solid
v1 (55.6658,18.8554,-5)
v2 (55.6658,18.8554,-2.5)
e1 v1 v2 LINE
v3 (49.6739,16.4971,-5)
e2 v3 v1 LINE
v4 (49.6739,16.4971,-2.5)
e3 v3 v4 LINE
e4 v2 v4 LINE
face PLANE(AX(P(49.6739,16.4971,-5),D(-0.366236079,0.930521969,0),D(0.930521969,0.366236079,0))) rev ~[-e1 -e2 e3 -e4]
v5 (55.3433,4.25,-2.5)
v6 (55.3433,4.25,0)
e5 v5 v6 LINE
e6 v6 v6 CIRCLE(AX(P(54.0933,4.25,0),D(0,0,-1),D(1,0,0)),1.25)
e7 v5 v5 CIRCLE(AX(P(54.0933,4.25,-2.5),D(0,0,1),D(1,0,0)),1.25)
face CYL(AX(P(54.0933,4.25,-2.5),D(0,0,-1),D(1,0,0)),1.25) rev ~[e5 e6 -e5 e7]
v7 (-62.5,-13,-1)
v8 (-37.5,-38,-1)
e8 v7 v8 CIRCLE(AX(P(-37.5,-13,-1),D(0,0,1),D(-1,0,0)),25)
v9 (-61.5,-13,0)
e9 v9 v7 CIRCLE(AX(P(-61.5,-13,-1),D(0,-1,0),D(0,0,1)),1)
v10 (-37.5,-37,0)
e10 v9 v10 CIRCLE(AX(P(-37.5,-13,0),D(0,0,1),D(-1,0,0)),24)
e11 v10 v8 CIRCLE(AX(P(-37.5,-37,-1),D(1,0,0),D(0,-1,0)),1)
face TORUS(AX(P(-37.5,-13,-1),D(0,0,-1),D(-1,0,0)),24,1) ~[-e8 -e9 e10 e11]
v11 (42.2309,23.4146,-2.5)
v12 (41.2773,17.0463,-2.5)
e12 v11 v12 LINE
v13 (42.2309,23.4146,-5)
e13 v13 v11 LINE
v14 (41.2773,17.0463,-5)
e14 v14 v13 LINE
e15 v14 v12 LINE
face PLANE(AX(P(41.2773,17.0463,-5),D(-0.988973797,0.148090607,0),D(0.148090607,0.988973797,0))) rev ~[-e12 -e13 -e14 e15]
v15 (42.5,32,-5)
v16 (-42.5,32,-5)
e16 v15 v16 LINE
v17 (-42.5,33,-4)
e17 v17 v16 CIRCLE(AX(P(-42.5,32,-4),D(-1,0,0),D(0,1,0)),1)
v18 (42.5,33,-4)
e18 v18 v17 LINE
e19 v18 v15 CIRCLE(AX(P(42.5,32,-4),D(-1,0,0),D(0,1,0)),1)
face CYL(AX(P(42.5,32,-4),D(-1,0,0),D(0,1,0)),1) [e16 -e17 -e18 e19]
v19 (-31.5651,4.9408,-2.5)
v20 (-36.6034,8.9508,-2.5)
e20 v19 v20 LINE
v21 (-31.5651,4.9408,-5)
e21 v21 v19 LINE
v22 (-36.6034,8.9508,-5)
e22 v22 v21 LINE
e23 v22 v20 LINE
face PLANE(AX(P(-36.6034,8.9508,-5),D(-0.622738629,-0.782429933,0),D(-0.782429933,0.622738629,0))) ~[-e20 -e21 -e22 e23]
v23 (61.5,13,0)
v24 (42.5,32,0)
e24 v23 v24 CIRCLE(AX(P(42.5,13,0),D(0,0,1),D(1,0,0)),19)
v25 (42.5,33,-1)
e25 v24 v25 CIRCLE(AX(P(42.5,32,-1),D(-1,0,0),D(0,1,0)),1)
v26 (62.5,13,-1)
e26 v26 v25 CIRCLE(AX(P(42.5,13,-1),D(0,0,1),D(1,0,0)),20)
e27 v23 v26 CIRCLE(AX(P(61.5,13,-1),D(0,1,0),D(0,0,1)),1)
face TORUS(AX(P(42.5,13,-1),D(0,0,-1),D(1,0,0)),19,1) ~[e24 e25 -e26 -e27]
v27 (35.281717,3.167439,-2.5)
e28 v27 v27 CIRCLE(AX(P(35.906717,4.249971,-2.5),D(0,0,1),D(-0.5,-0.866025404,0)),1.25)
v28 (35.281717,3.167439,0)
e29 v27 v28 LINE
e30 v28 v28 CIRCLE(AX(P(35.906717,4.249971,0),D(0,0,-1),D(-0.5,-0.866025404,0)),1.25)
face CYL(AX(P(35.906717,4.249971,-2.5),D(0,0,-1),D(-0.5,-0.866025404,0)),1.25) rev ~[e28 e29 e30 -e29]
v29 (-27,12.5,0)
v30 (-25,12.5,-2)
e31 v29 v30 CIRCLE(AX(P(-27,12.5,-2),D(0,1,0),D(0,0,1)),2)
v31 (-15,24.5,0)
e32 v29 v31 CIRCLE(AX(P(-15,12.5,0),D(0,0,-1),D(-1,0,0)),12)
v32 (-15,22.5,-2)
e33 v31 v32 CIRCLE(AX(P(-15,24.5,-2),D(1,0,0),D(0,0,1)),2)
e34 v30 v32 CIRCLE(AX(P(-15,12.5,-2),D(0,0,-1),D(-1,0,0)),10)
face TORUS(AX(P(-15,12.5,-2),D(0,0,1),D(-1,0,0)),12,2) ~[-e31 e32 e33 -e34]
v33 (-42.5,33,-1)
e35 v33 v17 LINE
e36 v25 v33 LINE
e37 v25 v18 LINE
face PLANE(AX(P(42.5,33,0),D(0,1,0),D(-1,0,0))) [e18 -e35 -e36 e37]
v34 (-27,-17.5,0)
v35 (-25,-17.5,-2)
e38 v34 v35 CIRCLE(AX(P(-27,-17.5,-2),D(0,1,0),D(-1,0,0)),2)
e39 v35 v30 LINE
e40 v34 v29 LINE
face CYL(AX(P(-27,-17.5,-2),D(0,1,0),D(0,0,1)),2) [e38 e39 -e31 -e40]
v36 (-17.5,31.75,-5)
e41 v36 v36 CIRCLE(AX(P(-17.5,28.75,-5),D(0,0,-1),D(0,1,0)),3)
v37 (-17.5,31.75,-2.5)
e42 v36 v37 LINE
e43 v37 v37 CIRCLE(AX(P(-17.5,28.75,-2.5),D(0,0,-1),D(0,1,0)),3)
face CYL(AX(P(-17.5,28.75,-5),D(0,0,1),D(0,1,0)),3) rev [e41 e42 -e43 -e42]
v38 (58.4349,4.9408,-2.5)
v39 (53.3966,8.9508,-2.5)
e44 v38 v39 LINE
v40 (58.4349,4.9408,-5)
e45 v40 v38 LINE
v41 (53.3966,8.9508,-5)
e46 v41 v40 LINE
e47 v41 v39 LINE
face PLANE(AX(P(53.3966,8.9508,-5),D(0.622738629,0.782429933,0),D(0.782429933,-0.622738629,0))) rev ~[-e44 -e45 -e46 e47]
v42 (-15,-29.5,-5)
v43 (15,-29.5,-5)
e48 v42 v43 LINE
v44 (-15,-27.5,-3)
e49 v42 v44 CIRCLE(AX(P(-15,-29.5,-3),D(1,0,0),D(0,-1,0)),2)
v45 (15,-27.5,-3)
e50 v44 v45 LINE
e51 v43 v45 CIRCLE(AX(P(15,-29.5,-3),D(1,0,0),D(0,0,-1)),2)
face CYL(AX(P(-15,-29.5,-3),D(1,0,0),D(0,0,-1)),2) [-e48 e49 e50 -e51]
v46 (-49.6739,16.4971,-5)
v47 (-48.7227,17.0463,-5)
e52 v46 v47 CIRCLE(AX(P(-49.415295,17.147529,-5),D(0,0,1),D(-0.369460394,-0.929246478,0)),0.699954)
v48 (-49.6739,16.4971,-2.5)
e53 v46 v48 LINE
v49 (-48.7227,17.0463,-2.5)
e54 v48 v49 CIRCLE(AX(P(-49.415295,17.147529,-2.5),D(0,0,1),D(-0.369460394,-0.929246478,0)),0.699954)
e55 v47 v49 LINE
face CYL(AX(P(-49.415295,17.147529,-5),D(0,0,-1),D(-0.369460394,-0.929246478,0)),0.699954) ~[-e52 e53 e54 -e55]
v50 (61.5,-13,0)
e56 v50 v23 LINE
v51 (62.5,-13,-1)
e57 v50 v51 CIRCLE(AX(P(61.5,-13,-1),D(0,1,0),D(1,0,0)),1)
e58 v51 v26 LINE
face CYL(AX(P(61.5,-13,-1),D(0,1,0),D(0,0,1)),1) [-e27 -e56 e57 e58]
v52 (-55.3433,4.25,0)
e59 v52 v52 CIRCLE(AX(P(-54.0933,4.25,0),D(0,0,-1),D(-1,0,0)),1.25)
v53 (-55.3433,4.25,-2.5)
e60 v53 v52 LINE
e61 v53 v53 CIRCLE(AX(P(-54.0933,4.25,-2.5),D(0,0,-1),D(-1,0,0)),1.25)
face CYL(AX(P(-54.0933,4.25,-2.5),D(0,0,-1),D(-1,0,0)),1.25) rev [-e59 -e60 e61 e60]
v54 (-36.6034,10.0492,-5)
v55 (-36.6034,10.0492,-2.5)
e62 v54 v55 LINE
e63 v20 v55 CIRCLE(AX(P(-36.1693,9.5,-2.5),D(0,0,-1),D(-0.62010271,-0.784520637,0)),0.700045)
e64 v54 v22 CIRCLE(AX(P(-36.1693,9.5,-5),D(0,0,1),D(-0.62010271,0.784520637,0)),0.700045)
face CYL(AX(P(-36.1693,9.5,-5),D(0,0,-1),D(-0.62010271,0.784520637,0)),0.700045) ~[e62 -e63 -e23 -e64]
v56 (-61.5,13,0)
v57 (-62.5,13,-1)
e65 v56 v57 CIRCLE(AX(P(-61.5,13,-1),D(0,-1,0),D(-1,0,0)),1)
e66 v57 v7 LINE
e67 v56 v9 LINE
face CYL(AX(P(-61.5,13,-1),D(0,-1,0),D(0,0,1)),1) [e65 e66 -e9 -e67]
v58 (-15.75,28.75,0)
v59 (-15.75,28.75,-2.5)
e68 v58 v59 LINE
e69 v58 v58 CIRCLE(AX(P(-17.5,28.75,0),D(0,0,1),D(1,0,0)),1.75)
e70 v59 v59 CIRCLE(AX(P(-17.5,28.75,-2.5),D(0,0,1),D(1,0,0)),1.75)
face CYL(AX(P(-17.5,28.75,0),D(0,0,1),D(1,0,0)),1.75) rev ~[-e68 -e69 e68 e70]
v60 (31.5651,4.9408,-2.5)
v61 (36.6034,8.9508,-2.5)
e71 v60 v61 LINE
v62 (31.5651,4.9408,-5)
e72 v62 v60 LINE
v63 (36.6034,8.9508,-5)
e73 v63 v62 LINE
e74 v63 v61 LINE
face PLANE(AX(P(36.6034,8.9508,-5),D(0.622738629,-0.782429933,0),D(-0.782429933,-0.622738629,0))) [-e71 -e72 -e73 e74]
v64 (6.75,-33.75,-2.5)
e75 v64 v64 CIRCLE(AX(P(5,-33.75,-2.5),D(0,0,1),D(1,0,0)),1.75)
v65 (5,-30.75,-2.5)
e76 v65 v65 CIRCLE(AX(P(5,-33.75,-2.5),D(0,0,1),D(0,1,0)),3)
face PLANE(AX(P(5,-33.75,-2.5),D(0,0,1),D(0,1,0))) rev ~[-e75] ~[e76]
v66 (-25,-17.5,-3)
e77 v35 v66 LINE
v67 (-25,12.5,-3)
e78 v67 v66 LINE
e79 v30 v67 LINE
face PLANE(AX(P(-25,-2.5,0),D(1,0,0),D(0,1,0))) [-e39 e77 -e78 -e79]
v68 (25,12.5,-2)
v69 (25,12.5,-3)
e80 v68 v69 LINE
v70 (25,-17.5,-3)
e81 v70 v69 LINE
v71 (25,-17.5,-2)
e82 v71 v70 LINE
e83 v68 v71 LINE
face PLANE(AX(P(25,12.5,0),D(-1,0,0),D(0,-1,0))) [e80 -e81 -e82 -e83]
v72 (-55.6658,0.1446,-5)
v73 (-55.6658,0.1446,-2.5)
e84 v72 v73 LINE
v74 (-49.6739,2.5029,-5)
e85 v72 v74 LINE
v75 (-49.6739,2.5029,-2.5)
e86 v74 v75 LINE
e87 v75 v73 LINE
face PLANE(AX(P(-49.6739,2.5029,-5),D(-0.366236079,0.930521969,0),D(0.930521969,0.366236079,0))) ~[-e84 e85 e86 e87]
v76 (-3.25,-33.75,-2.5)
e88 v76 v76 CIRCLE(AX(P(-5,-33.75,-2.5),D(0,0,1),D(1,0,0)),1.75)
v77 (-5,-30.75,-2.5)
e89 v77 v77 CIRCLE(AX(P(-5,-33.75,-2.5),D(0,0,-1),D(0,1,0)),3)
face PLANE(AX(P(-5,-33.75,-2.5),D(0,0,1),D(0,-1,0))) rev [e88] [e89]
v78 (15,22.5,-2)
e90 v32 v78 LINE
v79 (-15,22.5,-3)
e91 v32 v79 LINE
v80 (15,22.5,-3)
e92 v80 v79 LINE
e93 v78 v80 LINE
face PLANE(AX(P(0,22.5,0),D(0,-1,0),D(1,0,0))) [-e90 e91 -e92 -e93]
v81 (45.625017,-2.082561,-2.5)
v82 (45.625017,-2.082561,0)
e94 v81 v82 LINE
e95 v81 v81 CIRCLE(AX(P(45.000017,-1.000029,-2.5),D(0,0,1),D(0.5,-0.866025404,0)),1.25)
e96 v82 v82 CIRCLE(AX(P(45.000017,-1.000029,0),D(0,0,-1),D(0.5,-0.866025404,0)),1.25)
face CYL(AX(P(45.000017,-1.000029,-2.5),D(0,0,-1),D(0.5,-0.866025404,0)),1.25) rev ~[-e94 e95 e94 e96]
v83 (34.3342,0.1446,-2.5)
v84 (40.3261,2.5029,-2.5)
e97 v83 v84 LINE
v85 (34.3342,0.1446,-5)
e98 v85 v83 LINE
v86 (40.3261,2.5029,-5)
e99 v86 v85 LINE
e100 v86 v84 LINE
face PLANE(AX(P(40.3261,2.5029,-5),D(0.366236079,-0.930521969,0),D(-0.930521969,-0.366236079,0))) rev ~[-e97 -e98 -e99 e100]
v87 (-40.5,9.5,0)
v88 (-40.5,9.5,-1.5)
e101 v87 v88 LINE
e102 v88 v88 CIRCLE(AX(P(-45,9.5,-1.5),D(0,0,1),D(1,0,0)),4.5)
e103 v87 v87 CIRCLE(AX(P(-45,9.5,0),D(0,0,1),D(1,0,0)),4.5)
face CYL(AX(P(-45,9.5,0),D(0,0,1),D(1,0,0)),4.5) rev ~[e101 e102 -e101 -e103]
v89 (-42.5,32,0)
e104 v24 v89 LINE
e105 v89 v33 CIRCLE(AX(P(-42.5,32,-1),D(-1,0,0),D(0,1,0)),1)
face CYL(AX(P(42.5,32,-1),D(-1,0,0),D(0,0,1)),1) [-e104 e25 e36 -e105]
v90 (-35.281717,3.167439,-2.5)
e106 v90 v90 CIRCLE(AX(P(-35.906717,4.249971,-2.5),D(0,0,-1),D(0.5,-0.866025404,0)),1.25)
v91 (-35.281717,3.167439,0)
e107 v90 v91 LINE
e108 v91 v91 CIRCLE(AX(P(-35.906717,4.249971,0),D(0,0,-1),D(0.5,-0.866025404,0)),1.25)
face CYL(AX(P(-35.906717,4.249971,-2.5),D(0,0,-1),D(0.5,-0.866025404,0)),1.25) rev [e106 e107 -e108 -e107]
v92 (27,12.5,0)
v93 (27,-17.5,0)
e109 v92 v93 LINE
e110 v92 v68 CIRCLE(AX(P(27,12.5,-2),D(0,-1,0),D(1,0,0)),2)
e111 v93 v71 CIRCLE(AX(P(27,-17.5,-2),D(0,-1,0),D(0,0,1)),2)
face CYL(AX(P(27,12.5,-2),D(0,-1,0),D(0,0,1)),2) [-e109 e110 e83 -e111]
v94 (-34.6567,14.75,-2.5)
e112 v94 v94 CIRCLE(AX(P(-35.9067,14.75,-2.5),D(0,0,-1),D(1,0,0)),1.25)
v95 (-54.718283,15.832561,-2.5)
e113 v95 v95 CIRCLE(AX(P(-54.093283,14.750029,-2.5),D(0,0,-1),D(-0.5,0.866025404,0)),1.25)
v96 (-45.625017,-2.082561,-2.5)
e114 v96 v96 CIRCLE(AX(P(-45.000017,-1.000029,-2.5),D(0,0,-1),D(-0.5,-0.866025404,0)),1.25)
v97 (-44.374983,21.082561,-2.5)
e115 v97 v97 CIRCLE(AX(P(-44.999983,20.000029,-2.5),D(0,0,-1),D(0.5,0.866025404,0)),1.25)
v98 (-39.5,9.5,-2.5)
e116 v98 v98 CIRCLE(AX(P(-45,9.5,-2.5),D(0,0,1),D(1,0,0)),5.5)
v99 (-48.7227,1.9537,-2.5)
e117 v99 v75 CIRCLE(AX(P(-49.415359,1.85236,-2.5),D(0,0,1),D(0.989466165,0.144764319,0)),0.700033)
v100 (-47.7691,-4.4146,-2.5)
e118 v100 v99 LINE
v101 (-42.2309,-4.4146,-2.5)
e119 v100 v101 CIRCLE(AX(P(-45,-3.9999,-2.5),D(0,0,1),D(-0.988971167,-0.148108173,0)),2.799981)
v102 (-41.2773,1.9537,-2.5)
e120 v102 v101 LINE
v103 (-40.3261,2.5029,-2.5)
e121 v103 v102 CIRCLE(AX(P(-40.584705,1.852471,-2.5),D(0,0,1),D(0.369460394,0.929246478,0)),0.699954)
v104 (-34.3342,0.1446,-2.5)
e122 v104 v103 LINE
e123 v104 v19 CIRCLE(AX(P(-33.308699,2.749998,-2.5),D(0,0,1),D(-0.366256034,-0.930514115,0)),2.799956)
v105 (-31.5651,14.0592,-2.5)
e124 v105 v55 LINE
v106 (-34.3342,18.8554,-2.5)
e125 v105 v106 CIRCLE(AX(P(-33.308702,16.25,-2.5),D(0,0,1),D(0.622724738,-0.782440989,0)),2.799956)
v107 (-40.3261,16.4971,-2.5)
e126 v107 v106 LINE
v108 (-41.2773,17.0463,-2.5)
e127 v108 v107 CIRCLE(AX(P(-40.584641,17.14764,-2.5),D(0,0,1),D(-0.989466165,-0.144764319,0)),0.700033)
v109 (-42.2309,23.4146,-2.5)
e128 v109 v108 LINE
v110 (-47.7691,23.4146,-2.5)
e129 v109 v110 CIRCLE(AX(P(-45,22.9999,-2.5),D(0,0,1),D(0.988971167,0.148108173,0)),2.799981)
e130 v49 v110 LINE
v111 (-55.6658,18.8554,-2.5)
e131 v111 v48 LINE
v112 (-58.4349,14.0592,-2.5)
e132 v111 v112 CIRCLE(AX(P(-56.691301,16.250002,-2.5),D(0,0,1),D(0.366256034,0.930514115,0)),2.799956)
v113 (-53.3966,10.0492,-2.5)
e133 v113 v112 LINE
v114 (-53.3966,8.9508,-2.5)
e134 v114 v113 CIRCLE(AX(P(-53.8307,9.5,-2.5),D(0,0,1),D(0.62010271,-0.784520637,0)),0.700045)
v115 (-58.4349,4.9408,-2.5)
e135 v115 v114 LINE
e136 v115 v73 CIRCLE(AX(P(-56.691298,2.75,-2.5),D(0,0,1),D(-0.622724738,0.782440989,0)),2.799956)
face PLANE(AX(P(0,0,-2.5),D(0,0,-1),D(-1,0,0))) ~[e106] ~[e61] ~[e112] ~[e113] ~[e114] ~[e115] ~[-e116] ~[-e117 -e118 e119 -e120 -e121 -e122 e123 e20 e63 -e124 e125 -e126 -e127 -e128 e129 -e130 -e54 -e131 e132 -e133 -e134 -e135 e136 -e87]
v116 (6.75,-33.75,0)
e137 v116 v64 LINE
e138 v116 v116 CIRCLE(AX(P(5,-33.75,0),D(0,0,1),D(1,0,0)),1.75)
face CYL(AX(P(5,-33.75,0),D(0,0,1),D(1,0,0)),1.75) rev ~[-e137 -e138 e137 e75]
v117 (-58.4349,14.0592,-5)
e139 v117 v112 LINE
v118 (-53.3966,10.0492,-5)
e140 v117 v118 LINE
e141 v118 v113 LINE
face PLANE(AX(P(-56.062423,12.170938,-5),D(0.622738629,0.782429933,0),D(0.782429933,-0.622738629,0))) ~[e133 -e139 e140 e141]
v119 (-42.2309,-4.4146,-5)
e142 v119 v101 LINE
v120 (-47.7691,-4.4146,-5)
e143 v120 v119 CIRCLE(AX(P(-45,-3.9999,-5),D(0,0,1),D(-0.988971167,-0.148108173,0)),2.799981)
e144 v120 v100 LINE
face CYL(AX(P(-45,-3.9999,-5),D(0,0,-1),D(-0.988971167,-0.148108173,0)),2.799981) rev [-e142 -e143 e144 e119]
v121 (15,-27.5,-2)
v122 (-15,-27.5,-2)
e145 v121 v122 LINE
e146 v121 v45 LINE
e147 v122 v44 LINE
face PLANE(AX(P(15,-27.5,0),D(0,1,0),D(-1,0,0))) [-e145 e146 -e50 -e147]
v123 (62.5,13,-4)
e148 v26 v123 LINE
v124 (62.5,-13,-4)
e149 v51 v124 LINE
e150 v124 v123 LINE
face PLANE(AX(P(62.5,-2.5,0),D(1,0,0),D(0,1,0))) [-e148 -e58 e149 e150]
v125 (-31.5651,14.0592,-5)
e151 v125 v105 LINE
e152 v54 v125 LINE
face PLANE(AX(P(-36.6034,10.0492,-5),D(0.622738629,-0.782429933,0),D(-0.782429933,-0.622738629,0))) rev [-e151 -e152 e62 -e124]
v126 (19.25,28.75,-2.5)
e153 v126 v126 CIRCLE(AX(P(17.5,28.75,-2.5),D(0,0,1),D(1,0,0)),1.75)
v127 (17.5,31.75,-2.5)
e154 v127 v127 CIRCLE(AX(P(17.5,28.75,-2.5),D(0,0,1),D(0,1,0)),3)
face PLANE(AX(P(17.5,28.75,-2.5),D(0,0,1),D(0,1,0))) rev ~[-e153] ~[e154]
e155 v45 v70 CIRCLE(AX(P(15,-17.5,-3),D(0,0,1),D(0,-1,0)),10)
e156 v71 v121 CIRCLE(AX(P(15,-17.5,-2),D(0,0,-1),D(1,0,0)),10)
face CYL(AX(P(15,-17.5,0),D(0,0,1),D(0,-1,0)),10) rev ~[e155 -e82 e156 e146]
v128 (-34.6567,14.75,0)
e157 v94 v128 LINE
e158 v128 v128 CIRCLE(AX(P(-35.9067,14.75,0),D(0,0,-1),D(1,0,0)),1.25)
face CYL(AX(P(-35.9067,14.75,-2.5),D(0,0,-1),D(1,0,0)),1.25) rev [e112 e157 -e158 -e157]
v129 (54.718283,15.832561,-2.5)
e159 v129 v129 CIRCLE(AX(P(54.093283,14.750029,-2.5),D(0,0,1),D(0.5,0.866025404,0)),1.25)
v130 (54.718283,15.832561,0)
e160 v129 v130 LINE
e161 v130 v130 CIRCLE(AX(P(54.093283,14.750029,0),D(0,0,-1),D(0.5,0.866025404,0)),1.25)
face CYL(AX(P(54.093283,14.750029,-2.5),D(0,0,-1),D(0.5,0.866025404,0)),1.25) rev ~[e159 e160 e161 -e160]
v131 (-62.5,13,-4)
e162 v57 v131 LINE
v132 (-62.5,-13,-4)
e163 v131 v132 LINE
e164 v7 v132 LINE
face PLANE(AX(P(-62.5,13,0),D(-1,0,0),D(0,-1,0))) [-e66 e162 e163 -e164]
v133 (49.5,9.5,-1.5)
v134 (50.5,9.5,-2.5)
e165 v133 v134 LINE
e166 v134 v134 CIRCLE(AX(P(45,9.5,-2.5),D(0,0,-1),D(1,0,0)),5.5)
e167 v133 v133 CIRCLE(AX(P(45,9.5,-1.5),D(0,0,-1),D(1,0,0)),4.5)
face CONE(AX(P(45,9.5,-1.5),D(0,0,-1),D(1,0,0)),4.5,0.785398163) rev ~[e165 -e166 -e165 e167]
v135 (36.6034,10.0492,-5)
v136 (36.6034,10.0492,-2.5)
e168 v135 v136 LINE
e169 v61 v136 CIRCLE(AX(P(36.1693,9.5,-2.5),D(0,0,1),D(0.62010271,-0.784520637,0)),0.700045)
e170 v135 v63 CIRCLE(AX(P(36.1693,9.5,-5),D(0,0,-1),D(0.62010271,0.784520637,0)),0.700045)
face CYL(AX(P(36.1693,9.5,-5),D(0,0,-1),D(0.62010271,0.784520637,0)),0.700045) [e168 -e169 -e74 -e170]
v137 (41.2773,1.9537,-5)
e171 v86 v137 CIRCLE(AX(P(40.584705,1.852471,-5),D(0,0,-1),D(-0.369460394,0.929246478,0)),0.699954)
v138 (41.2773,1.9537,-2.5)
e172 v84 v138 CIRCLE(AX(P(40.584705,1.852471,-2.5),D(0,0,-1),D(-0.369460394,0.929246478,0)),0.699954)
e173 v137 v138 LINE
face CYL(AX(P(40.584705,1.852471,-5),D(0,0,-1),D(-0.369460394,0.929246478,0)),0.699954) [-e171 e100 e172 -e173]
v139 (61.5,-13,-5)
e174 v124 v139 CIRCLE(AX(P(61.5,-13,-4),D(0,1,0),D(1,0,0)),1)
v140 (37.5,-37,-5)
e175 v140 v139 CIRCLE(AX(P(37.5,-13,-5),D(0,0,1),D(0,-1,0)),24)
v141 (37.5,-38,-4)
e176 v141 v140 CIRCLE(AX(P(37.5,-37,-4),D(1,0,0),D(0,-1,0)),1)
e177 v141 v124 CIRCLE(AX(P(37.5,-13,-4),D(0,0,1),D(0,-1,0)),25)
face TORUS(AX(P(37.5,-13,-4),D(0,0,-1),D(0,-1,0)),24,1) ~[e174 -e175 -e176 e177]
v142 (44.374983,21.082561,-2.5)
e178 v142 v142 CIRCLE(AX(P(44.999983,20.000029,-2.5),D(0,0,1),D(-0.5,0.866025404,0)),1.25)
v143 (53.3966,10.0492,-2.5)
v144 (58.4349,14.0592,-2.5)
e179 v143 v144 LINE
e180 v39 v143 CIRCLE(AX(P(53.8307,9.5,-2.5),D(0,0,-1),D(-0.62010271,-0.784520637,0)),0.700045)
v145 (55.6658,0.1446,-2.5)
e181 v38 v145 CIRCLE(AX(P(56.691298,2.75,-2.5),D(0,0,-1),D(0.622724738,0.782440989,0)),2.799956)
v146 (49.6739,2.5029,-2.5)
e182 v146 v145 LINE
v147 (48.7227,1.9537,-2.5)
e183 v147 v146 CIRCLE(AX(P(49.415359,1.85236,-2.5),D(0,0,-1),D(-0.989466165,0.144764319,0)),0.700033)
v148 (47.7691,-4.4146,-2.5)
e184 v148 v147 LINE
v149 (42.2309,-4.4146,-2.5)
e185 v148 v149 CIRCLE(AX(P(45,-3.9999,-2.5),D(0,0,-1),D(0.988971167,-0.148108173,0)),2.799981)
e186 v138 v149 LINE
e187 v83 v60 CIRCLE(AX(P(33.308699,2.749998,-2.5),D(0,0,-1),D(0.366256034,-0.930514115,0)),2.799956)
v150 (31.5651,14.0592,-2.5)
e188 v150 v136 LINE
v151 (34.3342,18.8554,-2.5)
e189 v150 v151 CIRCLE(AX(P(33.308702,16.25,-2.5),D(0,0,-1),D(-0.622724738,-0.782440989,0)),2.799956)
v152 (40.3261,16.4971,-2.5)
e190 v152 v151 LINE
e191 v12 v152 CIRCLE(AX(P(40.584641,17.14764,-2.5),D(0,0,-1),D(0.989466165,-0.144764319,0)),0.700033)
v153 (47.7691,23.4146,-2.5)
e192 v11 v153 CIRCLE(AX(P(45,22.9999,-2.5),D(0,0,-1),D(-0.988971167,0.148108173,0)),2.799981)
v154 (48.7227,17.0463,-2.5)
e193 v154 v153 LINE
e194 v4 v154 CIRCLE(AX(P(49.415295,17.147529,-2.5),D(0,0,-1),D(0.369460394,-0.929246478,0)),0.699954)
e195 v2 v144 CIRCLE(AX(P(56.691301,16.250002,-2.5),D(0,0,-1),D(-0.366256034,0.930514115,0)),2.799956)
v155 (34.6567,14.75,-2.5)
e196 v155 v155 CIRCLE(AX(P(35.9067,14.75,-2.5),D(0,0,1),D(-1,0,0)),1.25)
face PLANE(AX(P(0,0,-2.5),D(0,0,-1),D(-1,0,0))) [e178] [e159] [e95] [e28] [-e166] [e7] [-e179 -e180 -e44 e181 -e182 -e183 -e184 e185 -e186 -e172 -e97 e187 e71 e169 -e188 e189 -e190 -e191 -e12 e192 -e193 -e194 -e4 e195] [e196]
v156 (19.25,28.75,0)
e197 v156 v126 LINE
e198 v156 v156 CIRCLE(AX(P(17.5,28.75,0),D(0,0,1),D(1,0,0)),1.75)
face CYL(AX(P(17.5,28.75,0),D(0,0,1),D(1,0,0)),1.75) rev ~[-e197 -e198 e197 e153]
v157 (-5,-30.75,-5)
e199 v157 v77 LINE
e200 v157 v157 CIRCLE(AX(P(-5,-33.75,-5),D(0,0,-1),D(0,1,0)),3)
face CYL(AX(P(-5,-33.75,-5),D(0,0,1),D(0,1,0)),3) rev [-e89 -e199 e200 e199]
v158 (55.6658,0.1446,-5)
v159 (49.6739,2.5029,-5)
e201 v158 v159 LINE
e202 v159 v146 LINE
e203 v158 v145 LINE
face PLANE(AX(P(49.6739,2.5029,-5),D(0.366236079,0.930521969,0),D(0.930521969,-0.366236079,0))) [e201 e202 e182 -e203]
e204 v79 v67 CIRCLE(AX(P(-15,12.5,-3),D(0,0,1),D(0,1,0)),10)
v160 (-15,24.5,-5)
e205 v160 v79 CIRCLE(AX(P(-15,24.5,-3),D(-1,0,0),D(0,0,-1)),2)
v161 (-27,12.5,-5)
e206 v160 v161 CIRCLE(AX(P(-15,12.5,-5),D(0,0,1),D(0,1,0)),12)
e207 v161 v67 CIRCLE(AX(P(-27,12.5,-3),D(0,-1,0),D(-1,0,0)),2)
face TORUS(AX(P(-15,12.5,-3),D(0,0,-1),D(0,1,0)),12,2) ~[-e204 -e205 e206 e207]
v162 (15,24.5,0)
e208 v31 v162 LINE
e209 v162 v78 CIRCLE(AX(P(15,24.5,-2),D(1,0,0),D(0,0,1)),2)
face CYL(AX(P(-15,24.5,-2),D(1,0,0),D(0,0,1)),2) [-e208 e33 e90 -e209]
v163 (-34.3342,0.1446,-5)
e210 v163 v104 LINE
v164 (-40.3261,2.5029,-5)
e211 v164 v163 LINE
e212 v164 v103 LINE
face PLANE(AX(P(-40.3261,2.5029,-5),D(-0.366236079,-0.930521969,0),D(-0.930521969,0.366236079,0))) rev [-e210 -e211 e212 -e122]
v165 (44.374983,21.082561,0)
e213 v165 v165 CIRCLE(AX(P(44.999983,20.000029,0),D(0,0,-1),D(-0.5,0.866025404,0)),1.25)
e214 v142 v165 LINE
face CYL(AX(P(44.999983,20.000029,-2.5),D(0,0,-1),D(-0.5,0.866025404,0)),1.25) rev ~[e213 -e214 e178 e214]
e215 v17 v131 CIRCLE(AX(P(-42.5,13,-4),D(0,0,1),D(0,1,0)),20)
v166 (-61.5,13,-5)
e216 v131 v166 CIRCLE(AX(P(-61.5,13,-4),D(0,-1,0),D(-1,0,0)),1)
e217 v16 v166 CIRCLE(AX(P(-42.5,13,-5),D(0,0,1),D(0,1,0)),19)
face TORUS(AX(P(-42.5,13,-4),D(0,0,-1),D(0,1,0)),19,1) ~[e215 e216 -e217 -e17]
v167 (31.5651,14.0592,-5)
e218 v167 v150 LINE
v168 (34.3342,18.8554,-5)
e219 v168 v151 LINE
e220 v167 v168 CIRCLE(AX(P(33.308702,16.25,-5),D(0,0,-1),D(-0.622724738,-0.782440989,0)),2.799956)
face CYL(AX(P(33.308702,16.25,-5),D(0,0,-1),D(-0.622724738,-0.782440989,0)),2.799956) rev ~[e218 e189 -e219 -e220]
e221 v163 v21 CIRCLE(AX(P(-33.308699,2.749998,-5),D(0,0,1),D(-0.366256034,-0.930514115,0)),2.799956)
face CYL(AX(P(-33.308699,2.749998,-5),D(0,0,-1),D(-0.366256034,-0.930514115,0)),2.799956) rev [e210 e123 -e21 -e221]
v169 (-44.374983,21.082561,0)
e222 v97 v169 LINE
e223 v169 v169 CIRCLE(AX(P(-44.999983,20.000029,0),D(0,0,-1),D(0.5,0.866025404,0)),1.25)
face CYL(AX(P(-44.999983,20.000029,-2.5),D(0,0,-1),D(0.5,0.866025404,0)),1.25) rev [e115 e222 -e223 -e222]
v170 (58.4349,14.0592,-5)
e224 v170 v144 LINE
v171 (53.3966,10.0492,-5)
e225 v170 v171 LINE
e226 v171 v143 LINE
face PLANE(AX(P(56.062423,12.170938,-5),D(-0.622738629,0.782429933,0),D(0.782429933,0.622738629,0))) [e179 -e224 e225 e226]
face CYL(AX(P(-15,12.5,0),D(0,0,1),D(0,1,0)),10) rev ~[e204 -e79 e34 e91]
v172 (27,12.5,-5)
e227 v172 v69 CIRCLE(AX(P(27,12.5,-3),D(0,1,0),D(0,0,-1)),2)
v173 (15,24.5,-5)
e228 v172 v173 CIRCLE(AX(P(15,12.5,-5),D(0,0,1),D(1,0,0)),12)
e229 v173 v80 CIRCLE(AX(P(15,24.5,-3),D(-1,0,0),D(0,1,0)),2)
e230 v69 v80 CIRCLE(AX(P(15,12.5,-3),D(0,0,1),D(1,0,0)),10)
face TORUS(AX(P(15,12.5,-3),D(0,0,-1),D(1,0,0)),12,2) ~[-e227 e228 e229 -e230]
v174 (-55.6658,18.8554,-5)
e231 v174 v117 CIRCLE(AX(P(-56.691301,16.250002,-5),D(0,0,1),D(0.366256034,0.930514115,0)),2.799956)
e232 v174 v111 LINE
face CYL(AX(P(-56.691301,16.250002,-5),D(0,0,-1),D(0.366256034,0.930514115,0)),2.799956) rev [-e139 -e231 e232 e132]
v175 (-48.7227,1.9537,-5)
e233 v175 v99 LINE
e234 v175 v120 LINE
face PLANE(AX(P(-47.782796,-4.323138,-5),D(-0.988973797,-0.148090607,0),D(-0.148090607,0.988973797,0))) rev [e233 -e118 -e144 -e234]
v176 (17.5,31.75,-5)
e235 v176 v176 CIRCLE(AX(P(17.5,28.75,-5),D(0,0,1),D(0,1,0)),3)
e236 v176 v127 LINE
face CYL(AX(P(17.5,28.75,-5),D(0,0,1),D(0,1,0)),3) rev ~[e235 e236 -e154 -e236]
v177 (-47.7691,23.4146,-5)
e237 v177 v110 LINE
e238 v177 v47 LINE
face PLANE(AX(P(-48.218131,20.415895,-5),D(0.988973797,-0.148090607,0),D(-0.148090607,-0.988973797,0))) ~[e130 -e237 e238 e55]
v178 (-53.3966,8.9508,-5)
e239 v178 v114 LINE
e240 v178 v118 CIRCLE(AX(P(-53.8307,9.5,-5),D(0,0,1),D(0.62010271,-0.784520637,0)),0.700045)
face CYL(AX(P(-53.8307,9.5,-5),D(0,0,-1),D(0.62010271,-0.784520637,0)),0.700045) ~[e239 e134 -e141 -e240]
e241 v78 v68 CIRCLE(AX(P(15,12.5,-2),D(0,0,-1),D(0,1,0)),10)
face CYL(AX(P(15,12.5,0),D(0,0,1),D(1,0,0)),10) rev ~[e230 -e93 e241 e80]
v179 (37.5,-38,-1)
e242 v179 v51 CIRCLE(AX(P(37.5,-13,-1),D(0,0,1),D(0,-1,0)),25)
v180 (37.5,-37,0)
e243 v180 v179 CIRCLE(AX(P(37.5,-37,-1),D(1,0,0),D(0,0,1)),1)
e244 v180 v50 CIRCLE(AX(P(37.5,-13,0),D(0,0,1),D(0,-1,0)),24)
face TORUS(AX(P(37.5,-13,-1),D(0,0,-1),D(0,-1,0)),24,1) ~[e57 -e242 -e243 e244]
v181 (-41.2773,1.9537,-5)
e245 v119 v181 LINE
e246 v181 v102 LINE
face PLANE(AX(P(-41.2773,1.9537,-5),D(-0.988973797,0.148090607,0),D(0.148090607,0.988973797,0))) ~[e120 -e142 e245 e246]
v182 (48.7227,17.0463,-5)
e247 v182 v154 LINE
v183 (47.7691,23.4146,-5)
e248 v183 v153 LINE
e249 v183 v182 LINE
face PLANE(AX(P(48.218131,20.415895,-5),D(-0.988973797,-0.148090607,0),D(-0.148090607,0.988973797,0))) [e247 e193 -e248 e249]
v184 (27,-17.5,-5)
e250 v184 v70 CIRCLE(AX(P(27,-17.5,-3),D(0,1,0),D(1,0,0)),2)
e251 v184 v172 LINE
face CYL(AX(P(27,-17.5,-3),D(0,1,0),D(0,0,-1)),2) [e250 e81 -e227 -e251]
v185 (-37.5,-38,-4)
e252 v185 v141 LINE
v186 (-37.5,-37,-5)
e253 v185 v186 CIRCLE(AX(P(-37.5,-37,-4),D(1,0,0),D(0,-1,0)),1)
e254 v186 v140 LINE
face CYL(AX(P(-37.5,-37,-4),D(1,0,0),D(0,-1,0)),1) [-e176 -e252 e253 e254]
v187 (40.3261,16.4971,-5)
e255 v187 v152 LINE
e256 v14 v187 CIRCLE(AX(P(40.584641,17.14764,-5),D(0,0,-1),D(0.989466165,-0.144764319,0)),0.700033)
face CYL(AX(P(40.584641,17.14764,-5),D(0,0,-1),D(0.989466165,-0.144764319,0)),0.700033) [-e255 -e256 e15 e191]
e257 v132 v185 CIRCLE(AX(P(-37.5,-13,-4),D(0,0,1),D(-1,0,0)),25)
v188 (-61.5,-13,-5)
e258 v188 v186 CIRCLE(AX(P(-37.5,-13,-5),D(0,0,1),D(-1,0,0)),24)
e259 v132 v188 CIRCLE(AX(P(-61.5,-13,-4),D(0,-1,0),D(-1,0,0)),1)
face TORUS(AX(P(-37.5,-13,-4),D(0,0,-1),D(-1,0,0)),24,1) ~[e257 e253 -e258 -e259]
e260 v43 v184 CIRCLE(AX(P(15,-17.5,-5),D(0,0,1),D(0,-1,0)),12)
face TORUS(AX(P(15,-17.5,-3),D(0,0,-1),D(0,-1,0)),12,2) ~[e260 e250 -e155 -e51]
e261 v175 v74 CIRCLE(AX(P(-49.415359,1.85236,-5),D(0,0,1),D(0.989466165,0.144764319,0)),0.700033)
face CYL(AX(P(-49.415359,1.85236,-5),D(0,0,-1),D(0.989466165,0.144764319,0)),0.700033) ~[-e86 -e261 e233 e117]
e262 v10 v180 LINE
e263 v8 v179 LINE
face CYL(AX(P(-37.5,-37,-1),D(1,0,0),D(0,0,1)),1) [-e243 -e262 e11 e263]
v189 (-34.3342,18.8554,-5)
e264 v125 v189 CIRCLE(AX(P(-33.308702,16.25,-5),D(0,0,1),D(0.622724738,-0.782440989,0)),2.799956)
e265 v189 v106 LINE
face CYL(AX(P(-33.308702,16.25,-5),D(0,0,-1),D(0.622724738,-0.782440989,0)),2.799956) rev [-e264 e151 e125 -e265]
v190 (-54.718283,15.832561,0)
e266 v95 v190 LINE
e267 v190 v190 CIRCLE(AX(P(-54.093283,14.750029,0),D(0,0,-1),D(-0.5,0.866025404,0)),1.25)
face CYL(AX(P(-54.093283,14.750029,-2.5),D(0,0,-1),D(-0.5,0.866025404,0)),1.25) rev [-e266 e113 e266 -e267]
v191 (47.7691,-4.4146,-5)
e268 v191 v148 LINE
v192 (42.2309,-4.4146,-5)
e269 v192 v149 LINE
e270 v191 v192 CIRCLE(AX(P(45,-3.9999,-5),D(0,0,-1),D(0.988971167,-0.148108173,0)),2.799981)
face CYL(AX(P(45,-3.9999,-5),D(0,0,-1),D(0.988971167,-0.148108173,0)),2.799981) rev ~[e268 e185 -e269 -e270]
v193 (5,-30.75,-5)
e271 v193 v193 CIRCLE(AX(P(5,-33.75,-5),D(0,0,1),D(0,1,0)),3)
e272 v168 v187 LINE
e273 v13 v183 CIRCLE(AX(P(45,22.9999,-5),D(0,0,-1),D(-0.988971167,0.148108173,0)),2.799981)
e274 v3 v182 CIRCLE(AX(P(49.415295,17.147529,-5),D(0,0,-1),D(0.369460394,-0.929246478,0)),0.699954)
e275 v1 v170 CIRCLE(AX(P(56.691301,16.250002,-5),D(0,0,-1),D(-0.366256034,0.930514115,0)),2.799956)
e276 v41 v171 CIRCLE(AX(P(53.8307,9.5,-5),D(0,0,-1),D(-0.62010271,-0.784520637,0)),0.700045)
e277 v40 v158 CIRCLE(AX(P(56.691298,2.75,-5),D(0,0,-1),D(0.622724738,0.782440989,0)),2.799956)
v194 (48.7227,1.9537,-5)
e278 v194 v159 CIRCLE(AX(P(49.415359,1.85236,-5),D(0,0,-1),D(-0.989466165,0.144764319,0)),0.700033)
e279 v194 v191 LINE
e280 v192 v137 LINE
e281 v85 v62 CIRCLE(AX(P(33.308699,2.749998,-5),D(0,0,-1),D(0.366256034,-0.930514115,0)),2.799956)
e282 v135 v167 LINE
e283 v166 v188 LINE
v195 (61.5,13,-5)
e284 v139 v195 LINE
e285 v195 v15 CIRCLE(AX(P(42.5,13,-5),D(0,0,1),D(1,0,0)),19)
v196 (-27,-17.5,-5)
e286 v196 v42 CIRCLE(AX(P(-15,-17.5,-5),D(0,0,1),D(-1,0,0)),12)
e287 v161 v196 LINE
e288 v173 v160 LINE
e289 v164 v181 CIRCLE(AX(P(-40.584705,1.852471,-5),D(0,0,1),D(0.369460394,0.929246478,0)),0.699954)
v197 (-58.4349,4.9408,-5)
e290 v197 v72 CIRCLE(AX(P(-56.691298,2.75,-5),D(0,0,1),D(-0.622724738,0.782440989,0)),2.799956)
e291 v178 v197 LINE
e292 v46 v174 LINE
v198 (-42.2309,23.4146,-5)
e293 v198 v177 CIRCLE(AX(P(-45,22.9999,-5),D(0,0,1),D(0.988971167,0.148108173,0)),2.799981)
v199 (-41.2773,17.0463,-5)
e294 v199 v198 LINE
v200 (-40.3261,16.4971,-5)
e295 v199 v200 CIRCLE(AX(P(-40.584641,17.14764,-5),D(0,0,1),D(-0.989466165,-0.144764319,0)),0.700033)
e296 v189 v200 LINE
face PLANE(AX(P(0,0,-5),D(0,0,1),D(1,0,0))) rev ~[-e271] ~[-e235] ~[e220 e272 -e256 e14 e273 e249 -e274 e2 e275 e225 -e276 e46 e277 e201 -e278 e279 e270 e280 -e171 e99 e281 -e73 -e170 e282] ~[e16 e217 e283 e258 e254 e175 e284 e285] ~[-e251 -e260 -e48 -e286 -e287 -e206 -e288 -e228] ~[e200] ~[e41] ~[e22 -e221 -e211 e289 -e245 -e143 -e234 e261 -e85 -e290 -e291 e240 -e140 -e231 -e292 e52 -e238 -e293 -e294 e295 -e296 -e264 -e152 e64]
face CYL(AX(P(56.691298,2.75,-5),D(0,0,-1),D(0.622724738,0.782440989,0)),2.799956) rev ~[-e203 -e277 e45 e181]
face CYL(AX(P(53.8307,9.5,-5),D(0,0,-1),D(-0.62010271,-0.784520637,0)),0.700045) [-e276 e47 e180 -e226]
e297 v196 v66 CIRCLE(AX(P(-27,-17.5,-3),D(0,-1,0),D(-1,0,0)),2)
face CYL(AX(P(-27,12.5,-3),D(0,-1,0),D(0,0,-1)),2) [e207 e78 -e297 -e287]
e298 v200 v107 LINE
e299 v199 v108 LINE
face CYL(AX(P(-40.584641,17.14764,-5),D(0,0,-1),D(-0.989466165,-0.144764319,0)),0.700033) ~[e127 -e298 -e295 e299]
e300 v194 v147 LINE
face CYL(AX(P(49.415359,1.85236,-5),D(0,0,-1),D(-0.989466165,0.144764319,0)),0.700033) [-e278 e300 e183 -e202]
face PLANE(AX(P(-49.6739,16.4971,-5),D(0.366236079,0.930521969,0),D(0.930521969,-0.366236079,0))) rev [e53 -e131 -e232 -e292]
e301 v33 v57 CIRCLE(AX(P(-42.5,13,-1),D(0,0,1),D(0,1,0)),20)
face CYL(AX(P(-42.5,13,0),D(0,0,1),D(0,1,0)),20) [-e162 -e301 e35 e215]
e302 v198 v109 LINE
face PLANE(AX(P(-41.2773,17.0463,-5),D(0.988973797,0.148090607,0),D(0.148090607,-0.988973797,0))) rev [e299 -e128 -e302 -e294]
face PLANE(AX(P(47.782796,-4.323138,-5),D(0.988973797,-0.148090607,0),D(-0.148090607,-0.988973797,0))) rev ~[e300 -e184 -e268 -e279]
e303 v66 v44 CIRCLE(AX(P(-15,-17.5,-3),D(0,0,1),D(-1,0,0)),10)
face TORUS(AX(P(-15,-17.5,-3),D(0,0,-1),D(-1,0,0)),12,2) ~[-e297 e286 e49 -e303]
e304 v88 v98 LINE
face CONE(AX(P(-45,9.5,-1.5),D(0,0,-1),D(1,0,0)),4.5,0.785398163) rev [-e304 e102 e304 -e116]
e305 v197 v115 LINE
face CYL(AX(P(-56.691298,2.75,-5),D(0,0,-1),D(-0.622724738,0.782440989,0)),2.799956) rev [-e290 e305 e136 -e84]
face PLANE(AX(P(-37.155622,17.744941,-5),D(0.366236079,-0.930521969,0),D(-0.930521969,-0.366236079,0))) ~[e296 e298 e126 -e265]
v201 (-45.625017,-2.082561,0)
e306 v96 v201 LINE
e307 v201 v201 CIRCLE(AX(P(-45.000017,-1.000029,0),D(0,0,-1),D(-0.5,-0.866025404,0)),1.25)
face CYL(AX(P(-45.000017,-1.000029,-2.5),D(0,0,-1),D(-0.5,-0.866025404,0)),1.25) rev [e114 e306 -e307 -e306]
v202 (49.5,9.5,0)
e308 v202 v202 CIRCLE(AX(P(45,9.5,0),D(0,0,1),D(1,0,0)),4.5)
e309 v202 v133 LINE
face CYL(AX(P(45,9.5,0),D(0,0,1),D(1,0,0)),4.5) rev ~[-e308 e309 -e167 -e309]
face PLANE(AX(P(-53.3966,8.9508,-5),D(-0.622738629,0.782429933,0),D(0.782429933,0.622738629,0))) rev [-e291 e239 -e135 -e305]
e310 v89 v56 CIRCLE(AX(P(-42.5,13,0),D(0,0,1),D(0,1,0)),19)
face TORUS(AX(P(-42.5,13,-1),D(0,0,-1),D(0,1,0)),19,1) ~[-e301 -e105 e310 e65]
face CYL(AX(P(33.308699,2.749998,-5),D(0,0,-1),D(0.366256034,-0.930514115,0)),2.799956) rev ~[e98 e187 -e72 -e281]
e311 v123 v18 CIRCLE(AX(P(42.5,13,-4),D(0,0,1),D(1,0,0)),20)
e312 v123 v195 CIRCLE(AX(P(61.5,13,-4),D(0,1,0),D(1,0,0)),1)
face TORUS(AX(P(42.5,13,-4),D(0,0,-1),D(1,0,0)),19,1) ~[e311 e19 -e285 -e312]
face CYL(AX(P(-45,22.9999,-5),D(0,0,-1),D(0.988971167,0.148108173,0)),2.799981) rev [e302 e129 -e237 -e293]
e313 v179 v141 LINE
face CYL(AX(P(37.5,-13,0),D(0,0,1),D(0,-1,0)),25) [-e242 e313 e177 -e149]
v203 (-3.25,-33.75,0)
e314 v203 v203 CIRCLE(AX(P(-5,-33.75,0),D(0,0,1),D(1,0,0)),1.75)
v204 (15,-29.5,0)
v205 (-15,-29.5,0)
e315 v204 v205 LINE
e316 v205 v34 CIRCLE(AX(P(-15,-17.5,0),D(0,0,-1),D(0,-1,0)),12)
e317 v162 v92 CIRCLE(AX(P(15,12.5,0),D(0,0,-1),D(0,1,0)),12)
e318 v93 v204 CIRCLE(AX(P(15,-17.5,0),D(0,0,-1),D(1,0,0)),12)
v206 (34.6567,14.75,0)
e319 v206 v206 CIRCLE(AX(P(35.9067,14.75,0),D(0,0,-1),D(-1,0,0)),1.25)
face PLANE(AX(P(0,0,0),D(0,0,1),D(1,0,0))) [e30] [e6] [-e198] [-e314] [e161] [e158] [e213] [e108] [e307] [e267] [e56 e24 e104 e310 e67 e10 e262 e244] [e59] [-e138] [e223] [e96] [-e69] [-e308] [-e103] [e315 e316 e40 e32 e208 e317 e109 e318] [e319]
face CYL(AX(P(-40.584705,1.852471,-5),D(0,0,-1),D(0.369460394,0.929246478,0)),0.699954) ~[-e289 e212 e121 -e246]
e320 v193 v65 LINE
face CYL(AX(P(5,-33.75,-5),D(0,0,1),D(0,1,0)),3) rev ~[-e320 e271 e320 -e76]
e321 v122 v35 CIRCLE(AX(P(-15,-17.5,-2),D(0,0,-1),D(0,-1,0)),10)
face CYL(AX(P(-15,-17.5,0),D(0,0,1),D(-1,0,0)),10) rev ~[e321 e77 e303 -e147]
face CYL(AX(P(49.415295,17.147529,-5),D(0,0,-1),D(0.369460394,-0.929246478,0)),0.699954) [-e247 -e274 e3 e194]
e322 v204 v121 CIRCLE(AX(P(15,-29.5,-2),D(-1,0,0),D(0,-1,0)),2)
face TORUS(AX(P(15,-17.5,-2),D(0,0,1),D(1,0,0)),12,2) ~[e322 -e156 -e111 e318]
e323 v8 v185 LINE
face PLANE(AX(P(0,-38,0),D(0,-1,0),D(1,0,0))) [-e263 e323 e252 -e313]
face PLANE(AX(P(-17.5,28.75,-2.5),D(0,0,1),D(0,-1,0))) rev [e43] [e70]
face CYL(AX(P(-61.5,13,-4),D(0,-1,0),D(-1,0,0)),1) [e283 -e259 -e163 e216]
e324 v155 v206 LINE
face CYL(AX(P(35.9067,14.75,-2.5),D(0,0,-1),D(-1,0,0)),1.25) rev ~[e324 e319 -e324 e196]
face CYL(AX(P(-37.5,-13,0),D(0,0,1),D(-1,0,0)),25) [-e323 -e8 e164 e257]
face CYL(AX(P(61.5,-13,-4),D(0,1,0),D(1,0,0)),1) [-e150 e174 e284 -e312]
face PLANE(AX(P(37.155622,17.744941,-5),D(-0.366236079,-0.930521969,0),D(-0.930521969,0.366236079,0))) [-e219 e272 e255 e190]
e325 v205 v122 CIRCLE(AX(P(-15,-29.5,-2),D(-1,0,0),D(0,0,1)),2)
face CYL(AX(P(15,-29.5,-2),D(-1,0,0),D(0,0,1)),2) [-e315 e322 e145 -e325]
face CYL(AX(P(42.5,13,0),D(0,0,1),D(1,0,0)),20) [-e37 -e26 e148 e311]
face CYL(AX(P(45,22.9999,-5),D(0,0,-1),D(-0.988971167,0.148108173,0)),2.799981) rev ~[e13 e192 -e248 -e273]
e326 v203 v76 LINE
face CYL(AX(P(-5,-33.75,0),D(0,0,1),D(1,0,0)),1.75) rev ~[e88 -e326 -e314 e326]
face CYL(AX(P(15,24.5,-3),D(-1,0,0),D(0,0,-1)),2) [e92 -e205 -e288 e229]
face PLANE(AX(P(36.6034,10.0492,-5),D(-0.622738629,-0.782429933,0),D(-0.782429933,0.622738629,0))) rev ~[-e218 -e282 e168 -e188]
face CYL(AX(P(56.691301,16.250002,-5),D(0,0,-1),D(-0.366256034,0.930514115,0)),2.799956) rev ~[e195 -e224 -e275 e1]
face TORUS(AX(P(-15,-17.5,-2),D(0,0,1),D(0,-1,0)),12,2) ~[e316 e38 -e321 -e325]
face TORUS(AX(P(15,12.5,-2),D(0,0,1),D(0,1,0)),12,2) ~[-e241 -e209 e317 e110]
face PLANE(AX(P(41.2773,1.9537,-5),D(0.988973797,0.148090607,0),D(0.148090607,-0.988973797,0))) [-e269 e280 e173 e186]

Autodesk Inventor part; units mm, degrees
ref_plane "YZ Plane" through (0, 0, 0) normal (1, 0, 0) x (0, 1, 0)
ref_plane "XZ Plane" through (0, 0, 0) normal (0, 1, 0) x (-1, 0, 0)
ref_plane "XY Plane" through (0, 0, 0) normal (0, 0, 1) x (1, 0, 0)
sketch "Esboço1" plane through (0, 0, 0) normal (0, 0, 1) x (1, 0, 0)
  line L0 (42.5, 33) -> (-42.5, 33)
  line L1 (-62.5, 13) -> (-62.5, -13)
  line L2 (-37.5, -38) -> (37.5, -38)
  line L3 (62.5, -13) -> (62.5, 13)
  line L4 (-15, 22.5) -> (15, 22.5)
  arc A0 (-15, 22.5) -> (-25, 12.5) centre (-15, 12.5) ccw
  line L5 (-25, -17.5) -> (-25, 12.5)
  arc A1 (-25, -17.5) -> (-15, -27.5) centre (-15, -17.5) ccw
  line L6 (15, -27.5) -> (-15, -27.5)
  arc A2 (15, -27.5) -> (25, -17.5) centre (15, -17.5) ccw
  line L7 (25, 12.5) -> (25, -17.5)
  arc A3 (25, 12.5) -> (15, 22.5) centre (15, 12.5) ccw
  circle A4 centre (-45, 9.5) radius 4.5
  circle A5 centre (-5, -33.75) radius 1.75
  circle A6 centre (5, -33.75) radius 1.75
  circle A7 centre (45, 9.5) radius 4.5
  circle A8 centre (17.5, 28.75) radius 1.75
  circle A9 centre (-17.5, 28.75) radius 1.75
  arc A10 (37.5, -38) -> (62.5, -13) centre (37.5, -13) ccw
  arc A11 (62.5, 13) -> (42.5, 33) centre (42.5, 13) ccw
  arc A12 (-42.5, 33) -> (-62.5, 13) centre (-42.5, 13) ccw
  arc A13 (-62.5, -13) -> (-37.5, -38) centre (-37.5, -13) ccw
  line L8 (0, -38) -> (0, 33)
  line L9 (-76.25, -2.5) -> (83.5363, -2.5)
  point P0 (0, 0)
  point P1 (0, -27.5)
  point P2 (62.5, 0)
  point P3 (0, 22.5)
  point P4 (-62.5, 0)
  dimension "d0" = 125
  dimension "d1" = 71
  dimension "d2" = 25
  dimension "d3" = 20
  dimension "d4" = 9
  dimension "d5" = 3.5
  dimension "d6" = 10
  dimension "d7" = 50
  dimension "d8" = 50
  dimension "d10" = 10.5
  dimension "d11" = 4.25
  dimension "d12" = 10
  dimension "d13" = 5
  dimension "d14" = 35
  dimension "d15" = 17.5
  dimension "d16" = 90
  dimension "d17" = 45
  dimension "d19" = 4.25
  dimension "d77" = 62.5
  dimension "d78" = 71
  dimension "d81" = 10.5
  dimension "d82" = 12
  dimension "d83" = 17.5
  dimension "d84" = 17.5
extrude "Extrusão1" add sketch "Esboço1" against normal blind 5 contours A11 L3 L9 L7 A3 L4 L8 L0 | L8 L4 A0 L5 L9 L1 A12 L0 | L3 A10 L2 L8 L6 A2 L7 L9 | L9 L5 A1 L6 L8 L2 A13 L1
sketch "Esboço2" plane through (0, 0, -5) normal (0, 0, -1) x (-1, 0, 0)
  circle A0 centre (-45, 9.5) radius 4.5
  line L0 (-48.7227, 17.0463) -> (-47.7691, 23.4146)
  arc A1 (-42.2309, 23.4146) -> (-47.7691, 23.4146) centre (-45, 22.9999) ccw
  arc A2 (-41.2773, 17.0463) -> (-41.2773, 17.0463) centre (-37.585, 11.9538) ccw
  line L1 (-45, 22.9999) -> (-45, -5.684)
  line L2 (-47.6648, 9.5) -> (-30.0023, 9.5)
  circle A3 centre (-45, 9.5) radius 4.5 projected
  circle A4 centre (-45, 9.5) radius 8.4146
  line L3 (-41.2773, 17.0463) -> (-42.2309, 23.4146)
  line L4 (-53.3966, 10.0492) -> (-58.4349, 14.0592)
  arc A5 (-55.6658, 18.8554) -> (-58.4349, 14.0592) centre (-56.6913, 16.25) ccw
  arc A6 (-49.6739, 16.4971) -> (-49.6739, 16.4971) centre (-43.4175, 17.1485) ccw
  line L5 (-49.6739, 16.4971) -> (-55.6658, 18.8554)
  line L6 (-49.6739, 2.5029) -> (-55.6658, 0.1446)
  arc A7 (-58.4349, 4.9408) -> (-55.6658, 0.1446) centre (-56.6913, 2.75) ccw
  arc A8 (-53.3966, 8.9508) -> (-53.3966, 8.9508) centre (-50.8325, 14.6947) ccw
  line L7 (-53.3966, 8.9508) -> (-58.4349, 4.9408)
  line L8 (-41.2773, 1.9537) -> (-42.2309, -4.4146)
  arc A9 (-47.7691, -4.4146) -> (-42.2309, -4.4146) centre (-45, -3.9999) ccw
  arc A10 (-48.7227, 1.9537) -> (-48.7227, 1.9537) centre (-52.415, 7.0462) ccw
  line L9 (-48.7227, 1.9537) -> (-47.7691, -4.4146)
  line L10 (-36.6034, 8.9508) -> (-31.5651, 4.9408)
  arc A11 (-34.3342, 0.1446) -> (-31.5651, 4.9408) centre (-33.3087, 2.75) ccw
  arc A12 (-40.3261, 2.5029) -> (-40.3261, 2.5029) centre (-46.5825, 1.8515) ccw
  line L11 (-40.3261, 2.5029) -> (-34.3342, 0.1446)
  line L12 (-40.3261, 16.4971) -> (-34.3342, 18.8554)
  arc A13 (-31.5651, 14.0592) -> (-34.3342, 18.8554) centre (-33.3087, 16.25) ccw
  arc A14 (-36.6034, 10.0492) -> (-36.6034, 10.0492) centre (-39.1675, 4.3053) ccw
  line L13 (-36.6034, 10.0492) -> (-31.5651, 14.0592)
  arc A15 (-49.6739, 16.4971) -> (-48.7227, 17.0463) centre (-49.4153, 17.1476) ccw
  arc A16 (-53.3966, 8.9508) -> (-53.3966, 10.0492) centre (-53.8307, 9.5) ccw
  arc A17 (-48.7227, 1.9537) -> (-49.6739, 2.5029) centre (-49.4153, 1.8524) ccw
  arc A18 (-40.3261, 2.5029) -> (-41.2773, 1.9537) centre (-40.5847, 1.8524) ccw
  arc A19 (-36.6034, 10.0492) -> (-36.6034, 8.9508) centre (-36.1693, 9.5) ccw
  arc A20 (-41.2773, 17.0463) -> (-40.3261, 16.4971) centre (-40.5847, 17.1476) ccw
  point P0 (0, 0)
  point P1 (19.7723, -33.3719)
  point P2 (-53.3966, 8.9508)
  point P3 (-49.6739, 2.5029)
  point P4 (-48.7227, 1.9537)
  point P5 (-41.2773, 1.9537)
  point P6 (-40.3261, 2.5029)
  point P7 (-36.6034, 8.9508)
  point P8 (-36.6034, 10.0492)
  point P9 (-40.3261, 16.4971)
  point P10 (-41.2773, 17.0463)
  point P11 (-49.6739, 16.4971)
  point P12 (-53.3966, 10.0492)
  dimension "d22" = 2.8
  dimension "d24" = 13.4999
  dimension "d31" = 8.516
  dimension "d35" = 16.8291
  dimension "d36" = 8.516
  dimension "d37" = 3.7227
  dimension "d40" = 360
  dimension "d42" = 0.7
  dimension "d45" = 360
  dimension "d47" = 3.7227
  dimension "d48" = 5.8515
extrude "Extrusão2" cut sketch "Esboço2" against normal blind 2.5 contours L2 A19 A4 A2 A0 | A0 A14 A19 L2 | A0 A6 A4 A14 | A2 A4 A12 A0 | A0 A2 A20 A4 A6 | A4 A6 L12 A2 L13 | A12 A18 A4 A14 L1 A0 | A4 L10 A2 | A2 L10 A14 L11 A4 | A0 A8 L1 A4 A2 | A4 L12 A6 | A2 L12 A13 L13 | L1 A14 A0 | A0 L1 A8 | A4 A8 L0 A6 L3 | A14 L1 A4 A10 A0 | A14 A4 L1 | L8 A14 A4 | A14 L10 A11 L11 | A0 A6 A15 A4 A8 L1 | L1 A8 A4 | A6 L0 A1 L3 | A10 A17 A4 A12 A0 | A4 A14 L8 A12 L1 | L1 A12 L9 A4 | A0 A10 A4 A6 | A4 L0 A8 | A12 A4 A8 A0 | A12 L8 A9 L9 | A8 A16 A4 A10 A0 | A4 A10 L4 A8 L5 | A12 L6 A10 L7 A4 | A4 L6 A12 | A4 L4 A10 | A8 L4 A5 L5 | L6 A7 L7 A10 picked at (-45.103, 3.2982) picked at (-44.9157, 15.7791)
sketch "Esboço3" plane through (0, 0, -5) normal (0, 0, -1) x (-1, 0, 0)
  circle A0 centre (-17.5, 28.75) radius 1.75 projected
  point P0 (0, 0)
hole "Furo1" at (17.5, 28.75, -5) direction (0, 0, 1) diameter 6 depth 2.5
sketch "Esboço4" plane through (0, 0, -5) normal (0, 0, -1) x (-1, 0, 0)
  circle A0 centre (-5, -33.75) radius 1.75 projected
  point P0 (0, 0)
hole "Furo2" at (5, -33.75, -5) direction (0, 0, 1) diameter 6 depth 2.5
mirror "Espelhamento1" about plane through (0, 0, 0) normal (1, 0, 0) of "Extrusão2", "Furo1", "Furo2"
fillet "Arredondamento1" radius 2 16 edges at (0, 22.5, 0) (22.0711, 19.5711, 0) (25, -2.5, 0) (22.0711, -24.5711, 0) (0, -27.5, 0) (-22.0711, -24.5711, 0) (-25, -2.5, 0) (-22.0711, 19.5711, 0) (-22.0711, -24.5711, -5) (0, -27.5, -5) (22.0711, -24.5711, -5) (25, -2.5, -5) (22.0711, 19.5711, -5) (0, 22.5, -5) (-22.0711, 19.5711, -5) (-25, -2.5, -5)
fillet "Arredondamento1" radius 1 16 edges at (-56.6421, 27.1421, 0) (-62.5, 0, 0) (-55.1777, -30.6777, 0) (0, -38, 0) (55.1777, -30.6777, 0) (62.5, 0, 0) (56.6421, 27.1421, 0) (0, 33, 0) (56.6421, 27.1421, -5) (62.5, 0, -5) (55.1777, -30.6777, -5) (0, -38, -5) (-55.1777, -30.6777, -5) (-62.5, 0, -5) (-56.6421, 27.1421, -5) (0, 33, -5)
chamfer "Chanfro1" distance 1 angle 45 2 edges at (40.5, 9.5, -2.5) (-49.5, 9.5, -2.5)
sketch "Esboço5" plane through (0, 0, -2.5) normal (0, 0, -1) x (-1, 0, 0)
  circle A0 centre (-45, 9.5) radius 10.5
  circle A1 centre (-45, 9.5) radius 4.5 projected
  circle A2 centre (-35.9067, 14.75) radius 1.25
  line L0 (-45, 9.5) -> (-33.3087, 16.25)
  arc A3 (-31.5651, 14.0592) -> (-34.3342, 18.8554) centre (-33.3087, 16.25) ccw projected
  point P0 (0, 0)
  dimension "d70" = 21
  dimension "d71" = 2.5
extrude "Extrusão3" cut sketch "Esboço5" against normal through all contours A2 L0 A0 | A0 L0 A2 | A2 L0 A0 | A0 L0 A2
pattern_circular "Padrão circular1" count 6 over 360 about axis through (45, 9.5, 0) along (0, 0, -1) of "Extrusão3"
mirror "Espelhamento2" about plane through (0, 0, 0) normal (1, 0, 0) of "Extrusão3", "Padrão circular1"
equation "\"d11\" = d19"
equation "\"d15\" = 0.5 * d14"
equation "\"d17\" = 0.5 * d16"
equation "\"d78\" = d1"
equation "\"d81\" = -0.5 * d8 + 0.5 * d1"
properties part number "Fechamento_Corpo" material "Plástico PC/ABS"
